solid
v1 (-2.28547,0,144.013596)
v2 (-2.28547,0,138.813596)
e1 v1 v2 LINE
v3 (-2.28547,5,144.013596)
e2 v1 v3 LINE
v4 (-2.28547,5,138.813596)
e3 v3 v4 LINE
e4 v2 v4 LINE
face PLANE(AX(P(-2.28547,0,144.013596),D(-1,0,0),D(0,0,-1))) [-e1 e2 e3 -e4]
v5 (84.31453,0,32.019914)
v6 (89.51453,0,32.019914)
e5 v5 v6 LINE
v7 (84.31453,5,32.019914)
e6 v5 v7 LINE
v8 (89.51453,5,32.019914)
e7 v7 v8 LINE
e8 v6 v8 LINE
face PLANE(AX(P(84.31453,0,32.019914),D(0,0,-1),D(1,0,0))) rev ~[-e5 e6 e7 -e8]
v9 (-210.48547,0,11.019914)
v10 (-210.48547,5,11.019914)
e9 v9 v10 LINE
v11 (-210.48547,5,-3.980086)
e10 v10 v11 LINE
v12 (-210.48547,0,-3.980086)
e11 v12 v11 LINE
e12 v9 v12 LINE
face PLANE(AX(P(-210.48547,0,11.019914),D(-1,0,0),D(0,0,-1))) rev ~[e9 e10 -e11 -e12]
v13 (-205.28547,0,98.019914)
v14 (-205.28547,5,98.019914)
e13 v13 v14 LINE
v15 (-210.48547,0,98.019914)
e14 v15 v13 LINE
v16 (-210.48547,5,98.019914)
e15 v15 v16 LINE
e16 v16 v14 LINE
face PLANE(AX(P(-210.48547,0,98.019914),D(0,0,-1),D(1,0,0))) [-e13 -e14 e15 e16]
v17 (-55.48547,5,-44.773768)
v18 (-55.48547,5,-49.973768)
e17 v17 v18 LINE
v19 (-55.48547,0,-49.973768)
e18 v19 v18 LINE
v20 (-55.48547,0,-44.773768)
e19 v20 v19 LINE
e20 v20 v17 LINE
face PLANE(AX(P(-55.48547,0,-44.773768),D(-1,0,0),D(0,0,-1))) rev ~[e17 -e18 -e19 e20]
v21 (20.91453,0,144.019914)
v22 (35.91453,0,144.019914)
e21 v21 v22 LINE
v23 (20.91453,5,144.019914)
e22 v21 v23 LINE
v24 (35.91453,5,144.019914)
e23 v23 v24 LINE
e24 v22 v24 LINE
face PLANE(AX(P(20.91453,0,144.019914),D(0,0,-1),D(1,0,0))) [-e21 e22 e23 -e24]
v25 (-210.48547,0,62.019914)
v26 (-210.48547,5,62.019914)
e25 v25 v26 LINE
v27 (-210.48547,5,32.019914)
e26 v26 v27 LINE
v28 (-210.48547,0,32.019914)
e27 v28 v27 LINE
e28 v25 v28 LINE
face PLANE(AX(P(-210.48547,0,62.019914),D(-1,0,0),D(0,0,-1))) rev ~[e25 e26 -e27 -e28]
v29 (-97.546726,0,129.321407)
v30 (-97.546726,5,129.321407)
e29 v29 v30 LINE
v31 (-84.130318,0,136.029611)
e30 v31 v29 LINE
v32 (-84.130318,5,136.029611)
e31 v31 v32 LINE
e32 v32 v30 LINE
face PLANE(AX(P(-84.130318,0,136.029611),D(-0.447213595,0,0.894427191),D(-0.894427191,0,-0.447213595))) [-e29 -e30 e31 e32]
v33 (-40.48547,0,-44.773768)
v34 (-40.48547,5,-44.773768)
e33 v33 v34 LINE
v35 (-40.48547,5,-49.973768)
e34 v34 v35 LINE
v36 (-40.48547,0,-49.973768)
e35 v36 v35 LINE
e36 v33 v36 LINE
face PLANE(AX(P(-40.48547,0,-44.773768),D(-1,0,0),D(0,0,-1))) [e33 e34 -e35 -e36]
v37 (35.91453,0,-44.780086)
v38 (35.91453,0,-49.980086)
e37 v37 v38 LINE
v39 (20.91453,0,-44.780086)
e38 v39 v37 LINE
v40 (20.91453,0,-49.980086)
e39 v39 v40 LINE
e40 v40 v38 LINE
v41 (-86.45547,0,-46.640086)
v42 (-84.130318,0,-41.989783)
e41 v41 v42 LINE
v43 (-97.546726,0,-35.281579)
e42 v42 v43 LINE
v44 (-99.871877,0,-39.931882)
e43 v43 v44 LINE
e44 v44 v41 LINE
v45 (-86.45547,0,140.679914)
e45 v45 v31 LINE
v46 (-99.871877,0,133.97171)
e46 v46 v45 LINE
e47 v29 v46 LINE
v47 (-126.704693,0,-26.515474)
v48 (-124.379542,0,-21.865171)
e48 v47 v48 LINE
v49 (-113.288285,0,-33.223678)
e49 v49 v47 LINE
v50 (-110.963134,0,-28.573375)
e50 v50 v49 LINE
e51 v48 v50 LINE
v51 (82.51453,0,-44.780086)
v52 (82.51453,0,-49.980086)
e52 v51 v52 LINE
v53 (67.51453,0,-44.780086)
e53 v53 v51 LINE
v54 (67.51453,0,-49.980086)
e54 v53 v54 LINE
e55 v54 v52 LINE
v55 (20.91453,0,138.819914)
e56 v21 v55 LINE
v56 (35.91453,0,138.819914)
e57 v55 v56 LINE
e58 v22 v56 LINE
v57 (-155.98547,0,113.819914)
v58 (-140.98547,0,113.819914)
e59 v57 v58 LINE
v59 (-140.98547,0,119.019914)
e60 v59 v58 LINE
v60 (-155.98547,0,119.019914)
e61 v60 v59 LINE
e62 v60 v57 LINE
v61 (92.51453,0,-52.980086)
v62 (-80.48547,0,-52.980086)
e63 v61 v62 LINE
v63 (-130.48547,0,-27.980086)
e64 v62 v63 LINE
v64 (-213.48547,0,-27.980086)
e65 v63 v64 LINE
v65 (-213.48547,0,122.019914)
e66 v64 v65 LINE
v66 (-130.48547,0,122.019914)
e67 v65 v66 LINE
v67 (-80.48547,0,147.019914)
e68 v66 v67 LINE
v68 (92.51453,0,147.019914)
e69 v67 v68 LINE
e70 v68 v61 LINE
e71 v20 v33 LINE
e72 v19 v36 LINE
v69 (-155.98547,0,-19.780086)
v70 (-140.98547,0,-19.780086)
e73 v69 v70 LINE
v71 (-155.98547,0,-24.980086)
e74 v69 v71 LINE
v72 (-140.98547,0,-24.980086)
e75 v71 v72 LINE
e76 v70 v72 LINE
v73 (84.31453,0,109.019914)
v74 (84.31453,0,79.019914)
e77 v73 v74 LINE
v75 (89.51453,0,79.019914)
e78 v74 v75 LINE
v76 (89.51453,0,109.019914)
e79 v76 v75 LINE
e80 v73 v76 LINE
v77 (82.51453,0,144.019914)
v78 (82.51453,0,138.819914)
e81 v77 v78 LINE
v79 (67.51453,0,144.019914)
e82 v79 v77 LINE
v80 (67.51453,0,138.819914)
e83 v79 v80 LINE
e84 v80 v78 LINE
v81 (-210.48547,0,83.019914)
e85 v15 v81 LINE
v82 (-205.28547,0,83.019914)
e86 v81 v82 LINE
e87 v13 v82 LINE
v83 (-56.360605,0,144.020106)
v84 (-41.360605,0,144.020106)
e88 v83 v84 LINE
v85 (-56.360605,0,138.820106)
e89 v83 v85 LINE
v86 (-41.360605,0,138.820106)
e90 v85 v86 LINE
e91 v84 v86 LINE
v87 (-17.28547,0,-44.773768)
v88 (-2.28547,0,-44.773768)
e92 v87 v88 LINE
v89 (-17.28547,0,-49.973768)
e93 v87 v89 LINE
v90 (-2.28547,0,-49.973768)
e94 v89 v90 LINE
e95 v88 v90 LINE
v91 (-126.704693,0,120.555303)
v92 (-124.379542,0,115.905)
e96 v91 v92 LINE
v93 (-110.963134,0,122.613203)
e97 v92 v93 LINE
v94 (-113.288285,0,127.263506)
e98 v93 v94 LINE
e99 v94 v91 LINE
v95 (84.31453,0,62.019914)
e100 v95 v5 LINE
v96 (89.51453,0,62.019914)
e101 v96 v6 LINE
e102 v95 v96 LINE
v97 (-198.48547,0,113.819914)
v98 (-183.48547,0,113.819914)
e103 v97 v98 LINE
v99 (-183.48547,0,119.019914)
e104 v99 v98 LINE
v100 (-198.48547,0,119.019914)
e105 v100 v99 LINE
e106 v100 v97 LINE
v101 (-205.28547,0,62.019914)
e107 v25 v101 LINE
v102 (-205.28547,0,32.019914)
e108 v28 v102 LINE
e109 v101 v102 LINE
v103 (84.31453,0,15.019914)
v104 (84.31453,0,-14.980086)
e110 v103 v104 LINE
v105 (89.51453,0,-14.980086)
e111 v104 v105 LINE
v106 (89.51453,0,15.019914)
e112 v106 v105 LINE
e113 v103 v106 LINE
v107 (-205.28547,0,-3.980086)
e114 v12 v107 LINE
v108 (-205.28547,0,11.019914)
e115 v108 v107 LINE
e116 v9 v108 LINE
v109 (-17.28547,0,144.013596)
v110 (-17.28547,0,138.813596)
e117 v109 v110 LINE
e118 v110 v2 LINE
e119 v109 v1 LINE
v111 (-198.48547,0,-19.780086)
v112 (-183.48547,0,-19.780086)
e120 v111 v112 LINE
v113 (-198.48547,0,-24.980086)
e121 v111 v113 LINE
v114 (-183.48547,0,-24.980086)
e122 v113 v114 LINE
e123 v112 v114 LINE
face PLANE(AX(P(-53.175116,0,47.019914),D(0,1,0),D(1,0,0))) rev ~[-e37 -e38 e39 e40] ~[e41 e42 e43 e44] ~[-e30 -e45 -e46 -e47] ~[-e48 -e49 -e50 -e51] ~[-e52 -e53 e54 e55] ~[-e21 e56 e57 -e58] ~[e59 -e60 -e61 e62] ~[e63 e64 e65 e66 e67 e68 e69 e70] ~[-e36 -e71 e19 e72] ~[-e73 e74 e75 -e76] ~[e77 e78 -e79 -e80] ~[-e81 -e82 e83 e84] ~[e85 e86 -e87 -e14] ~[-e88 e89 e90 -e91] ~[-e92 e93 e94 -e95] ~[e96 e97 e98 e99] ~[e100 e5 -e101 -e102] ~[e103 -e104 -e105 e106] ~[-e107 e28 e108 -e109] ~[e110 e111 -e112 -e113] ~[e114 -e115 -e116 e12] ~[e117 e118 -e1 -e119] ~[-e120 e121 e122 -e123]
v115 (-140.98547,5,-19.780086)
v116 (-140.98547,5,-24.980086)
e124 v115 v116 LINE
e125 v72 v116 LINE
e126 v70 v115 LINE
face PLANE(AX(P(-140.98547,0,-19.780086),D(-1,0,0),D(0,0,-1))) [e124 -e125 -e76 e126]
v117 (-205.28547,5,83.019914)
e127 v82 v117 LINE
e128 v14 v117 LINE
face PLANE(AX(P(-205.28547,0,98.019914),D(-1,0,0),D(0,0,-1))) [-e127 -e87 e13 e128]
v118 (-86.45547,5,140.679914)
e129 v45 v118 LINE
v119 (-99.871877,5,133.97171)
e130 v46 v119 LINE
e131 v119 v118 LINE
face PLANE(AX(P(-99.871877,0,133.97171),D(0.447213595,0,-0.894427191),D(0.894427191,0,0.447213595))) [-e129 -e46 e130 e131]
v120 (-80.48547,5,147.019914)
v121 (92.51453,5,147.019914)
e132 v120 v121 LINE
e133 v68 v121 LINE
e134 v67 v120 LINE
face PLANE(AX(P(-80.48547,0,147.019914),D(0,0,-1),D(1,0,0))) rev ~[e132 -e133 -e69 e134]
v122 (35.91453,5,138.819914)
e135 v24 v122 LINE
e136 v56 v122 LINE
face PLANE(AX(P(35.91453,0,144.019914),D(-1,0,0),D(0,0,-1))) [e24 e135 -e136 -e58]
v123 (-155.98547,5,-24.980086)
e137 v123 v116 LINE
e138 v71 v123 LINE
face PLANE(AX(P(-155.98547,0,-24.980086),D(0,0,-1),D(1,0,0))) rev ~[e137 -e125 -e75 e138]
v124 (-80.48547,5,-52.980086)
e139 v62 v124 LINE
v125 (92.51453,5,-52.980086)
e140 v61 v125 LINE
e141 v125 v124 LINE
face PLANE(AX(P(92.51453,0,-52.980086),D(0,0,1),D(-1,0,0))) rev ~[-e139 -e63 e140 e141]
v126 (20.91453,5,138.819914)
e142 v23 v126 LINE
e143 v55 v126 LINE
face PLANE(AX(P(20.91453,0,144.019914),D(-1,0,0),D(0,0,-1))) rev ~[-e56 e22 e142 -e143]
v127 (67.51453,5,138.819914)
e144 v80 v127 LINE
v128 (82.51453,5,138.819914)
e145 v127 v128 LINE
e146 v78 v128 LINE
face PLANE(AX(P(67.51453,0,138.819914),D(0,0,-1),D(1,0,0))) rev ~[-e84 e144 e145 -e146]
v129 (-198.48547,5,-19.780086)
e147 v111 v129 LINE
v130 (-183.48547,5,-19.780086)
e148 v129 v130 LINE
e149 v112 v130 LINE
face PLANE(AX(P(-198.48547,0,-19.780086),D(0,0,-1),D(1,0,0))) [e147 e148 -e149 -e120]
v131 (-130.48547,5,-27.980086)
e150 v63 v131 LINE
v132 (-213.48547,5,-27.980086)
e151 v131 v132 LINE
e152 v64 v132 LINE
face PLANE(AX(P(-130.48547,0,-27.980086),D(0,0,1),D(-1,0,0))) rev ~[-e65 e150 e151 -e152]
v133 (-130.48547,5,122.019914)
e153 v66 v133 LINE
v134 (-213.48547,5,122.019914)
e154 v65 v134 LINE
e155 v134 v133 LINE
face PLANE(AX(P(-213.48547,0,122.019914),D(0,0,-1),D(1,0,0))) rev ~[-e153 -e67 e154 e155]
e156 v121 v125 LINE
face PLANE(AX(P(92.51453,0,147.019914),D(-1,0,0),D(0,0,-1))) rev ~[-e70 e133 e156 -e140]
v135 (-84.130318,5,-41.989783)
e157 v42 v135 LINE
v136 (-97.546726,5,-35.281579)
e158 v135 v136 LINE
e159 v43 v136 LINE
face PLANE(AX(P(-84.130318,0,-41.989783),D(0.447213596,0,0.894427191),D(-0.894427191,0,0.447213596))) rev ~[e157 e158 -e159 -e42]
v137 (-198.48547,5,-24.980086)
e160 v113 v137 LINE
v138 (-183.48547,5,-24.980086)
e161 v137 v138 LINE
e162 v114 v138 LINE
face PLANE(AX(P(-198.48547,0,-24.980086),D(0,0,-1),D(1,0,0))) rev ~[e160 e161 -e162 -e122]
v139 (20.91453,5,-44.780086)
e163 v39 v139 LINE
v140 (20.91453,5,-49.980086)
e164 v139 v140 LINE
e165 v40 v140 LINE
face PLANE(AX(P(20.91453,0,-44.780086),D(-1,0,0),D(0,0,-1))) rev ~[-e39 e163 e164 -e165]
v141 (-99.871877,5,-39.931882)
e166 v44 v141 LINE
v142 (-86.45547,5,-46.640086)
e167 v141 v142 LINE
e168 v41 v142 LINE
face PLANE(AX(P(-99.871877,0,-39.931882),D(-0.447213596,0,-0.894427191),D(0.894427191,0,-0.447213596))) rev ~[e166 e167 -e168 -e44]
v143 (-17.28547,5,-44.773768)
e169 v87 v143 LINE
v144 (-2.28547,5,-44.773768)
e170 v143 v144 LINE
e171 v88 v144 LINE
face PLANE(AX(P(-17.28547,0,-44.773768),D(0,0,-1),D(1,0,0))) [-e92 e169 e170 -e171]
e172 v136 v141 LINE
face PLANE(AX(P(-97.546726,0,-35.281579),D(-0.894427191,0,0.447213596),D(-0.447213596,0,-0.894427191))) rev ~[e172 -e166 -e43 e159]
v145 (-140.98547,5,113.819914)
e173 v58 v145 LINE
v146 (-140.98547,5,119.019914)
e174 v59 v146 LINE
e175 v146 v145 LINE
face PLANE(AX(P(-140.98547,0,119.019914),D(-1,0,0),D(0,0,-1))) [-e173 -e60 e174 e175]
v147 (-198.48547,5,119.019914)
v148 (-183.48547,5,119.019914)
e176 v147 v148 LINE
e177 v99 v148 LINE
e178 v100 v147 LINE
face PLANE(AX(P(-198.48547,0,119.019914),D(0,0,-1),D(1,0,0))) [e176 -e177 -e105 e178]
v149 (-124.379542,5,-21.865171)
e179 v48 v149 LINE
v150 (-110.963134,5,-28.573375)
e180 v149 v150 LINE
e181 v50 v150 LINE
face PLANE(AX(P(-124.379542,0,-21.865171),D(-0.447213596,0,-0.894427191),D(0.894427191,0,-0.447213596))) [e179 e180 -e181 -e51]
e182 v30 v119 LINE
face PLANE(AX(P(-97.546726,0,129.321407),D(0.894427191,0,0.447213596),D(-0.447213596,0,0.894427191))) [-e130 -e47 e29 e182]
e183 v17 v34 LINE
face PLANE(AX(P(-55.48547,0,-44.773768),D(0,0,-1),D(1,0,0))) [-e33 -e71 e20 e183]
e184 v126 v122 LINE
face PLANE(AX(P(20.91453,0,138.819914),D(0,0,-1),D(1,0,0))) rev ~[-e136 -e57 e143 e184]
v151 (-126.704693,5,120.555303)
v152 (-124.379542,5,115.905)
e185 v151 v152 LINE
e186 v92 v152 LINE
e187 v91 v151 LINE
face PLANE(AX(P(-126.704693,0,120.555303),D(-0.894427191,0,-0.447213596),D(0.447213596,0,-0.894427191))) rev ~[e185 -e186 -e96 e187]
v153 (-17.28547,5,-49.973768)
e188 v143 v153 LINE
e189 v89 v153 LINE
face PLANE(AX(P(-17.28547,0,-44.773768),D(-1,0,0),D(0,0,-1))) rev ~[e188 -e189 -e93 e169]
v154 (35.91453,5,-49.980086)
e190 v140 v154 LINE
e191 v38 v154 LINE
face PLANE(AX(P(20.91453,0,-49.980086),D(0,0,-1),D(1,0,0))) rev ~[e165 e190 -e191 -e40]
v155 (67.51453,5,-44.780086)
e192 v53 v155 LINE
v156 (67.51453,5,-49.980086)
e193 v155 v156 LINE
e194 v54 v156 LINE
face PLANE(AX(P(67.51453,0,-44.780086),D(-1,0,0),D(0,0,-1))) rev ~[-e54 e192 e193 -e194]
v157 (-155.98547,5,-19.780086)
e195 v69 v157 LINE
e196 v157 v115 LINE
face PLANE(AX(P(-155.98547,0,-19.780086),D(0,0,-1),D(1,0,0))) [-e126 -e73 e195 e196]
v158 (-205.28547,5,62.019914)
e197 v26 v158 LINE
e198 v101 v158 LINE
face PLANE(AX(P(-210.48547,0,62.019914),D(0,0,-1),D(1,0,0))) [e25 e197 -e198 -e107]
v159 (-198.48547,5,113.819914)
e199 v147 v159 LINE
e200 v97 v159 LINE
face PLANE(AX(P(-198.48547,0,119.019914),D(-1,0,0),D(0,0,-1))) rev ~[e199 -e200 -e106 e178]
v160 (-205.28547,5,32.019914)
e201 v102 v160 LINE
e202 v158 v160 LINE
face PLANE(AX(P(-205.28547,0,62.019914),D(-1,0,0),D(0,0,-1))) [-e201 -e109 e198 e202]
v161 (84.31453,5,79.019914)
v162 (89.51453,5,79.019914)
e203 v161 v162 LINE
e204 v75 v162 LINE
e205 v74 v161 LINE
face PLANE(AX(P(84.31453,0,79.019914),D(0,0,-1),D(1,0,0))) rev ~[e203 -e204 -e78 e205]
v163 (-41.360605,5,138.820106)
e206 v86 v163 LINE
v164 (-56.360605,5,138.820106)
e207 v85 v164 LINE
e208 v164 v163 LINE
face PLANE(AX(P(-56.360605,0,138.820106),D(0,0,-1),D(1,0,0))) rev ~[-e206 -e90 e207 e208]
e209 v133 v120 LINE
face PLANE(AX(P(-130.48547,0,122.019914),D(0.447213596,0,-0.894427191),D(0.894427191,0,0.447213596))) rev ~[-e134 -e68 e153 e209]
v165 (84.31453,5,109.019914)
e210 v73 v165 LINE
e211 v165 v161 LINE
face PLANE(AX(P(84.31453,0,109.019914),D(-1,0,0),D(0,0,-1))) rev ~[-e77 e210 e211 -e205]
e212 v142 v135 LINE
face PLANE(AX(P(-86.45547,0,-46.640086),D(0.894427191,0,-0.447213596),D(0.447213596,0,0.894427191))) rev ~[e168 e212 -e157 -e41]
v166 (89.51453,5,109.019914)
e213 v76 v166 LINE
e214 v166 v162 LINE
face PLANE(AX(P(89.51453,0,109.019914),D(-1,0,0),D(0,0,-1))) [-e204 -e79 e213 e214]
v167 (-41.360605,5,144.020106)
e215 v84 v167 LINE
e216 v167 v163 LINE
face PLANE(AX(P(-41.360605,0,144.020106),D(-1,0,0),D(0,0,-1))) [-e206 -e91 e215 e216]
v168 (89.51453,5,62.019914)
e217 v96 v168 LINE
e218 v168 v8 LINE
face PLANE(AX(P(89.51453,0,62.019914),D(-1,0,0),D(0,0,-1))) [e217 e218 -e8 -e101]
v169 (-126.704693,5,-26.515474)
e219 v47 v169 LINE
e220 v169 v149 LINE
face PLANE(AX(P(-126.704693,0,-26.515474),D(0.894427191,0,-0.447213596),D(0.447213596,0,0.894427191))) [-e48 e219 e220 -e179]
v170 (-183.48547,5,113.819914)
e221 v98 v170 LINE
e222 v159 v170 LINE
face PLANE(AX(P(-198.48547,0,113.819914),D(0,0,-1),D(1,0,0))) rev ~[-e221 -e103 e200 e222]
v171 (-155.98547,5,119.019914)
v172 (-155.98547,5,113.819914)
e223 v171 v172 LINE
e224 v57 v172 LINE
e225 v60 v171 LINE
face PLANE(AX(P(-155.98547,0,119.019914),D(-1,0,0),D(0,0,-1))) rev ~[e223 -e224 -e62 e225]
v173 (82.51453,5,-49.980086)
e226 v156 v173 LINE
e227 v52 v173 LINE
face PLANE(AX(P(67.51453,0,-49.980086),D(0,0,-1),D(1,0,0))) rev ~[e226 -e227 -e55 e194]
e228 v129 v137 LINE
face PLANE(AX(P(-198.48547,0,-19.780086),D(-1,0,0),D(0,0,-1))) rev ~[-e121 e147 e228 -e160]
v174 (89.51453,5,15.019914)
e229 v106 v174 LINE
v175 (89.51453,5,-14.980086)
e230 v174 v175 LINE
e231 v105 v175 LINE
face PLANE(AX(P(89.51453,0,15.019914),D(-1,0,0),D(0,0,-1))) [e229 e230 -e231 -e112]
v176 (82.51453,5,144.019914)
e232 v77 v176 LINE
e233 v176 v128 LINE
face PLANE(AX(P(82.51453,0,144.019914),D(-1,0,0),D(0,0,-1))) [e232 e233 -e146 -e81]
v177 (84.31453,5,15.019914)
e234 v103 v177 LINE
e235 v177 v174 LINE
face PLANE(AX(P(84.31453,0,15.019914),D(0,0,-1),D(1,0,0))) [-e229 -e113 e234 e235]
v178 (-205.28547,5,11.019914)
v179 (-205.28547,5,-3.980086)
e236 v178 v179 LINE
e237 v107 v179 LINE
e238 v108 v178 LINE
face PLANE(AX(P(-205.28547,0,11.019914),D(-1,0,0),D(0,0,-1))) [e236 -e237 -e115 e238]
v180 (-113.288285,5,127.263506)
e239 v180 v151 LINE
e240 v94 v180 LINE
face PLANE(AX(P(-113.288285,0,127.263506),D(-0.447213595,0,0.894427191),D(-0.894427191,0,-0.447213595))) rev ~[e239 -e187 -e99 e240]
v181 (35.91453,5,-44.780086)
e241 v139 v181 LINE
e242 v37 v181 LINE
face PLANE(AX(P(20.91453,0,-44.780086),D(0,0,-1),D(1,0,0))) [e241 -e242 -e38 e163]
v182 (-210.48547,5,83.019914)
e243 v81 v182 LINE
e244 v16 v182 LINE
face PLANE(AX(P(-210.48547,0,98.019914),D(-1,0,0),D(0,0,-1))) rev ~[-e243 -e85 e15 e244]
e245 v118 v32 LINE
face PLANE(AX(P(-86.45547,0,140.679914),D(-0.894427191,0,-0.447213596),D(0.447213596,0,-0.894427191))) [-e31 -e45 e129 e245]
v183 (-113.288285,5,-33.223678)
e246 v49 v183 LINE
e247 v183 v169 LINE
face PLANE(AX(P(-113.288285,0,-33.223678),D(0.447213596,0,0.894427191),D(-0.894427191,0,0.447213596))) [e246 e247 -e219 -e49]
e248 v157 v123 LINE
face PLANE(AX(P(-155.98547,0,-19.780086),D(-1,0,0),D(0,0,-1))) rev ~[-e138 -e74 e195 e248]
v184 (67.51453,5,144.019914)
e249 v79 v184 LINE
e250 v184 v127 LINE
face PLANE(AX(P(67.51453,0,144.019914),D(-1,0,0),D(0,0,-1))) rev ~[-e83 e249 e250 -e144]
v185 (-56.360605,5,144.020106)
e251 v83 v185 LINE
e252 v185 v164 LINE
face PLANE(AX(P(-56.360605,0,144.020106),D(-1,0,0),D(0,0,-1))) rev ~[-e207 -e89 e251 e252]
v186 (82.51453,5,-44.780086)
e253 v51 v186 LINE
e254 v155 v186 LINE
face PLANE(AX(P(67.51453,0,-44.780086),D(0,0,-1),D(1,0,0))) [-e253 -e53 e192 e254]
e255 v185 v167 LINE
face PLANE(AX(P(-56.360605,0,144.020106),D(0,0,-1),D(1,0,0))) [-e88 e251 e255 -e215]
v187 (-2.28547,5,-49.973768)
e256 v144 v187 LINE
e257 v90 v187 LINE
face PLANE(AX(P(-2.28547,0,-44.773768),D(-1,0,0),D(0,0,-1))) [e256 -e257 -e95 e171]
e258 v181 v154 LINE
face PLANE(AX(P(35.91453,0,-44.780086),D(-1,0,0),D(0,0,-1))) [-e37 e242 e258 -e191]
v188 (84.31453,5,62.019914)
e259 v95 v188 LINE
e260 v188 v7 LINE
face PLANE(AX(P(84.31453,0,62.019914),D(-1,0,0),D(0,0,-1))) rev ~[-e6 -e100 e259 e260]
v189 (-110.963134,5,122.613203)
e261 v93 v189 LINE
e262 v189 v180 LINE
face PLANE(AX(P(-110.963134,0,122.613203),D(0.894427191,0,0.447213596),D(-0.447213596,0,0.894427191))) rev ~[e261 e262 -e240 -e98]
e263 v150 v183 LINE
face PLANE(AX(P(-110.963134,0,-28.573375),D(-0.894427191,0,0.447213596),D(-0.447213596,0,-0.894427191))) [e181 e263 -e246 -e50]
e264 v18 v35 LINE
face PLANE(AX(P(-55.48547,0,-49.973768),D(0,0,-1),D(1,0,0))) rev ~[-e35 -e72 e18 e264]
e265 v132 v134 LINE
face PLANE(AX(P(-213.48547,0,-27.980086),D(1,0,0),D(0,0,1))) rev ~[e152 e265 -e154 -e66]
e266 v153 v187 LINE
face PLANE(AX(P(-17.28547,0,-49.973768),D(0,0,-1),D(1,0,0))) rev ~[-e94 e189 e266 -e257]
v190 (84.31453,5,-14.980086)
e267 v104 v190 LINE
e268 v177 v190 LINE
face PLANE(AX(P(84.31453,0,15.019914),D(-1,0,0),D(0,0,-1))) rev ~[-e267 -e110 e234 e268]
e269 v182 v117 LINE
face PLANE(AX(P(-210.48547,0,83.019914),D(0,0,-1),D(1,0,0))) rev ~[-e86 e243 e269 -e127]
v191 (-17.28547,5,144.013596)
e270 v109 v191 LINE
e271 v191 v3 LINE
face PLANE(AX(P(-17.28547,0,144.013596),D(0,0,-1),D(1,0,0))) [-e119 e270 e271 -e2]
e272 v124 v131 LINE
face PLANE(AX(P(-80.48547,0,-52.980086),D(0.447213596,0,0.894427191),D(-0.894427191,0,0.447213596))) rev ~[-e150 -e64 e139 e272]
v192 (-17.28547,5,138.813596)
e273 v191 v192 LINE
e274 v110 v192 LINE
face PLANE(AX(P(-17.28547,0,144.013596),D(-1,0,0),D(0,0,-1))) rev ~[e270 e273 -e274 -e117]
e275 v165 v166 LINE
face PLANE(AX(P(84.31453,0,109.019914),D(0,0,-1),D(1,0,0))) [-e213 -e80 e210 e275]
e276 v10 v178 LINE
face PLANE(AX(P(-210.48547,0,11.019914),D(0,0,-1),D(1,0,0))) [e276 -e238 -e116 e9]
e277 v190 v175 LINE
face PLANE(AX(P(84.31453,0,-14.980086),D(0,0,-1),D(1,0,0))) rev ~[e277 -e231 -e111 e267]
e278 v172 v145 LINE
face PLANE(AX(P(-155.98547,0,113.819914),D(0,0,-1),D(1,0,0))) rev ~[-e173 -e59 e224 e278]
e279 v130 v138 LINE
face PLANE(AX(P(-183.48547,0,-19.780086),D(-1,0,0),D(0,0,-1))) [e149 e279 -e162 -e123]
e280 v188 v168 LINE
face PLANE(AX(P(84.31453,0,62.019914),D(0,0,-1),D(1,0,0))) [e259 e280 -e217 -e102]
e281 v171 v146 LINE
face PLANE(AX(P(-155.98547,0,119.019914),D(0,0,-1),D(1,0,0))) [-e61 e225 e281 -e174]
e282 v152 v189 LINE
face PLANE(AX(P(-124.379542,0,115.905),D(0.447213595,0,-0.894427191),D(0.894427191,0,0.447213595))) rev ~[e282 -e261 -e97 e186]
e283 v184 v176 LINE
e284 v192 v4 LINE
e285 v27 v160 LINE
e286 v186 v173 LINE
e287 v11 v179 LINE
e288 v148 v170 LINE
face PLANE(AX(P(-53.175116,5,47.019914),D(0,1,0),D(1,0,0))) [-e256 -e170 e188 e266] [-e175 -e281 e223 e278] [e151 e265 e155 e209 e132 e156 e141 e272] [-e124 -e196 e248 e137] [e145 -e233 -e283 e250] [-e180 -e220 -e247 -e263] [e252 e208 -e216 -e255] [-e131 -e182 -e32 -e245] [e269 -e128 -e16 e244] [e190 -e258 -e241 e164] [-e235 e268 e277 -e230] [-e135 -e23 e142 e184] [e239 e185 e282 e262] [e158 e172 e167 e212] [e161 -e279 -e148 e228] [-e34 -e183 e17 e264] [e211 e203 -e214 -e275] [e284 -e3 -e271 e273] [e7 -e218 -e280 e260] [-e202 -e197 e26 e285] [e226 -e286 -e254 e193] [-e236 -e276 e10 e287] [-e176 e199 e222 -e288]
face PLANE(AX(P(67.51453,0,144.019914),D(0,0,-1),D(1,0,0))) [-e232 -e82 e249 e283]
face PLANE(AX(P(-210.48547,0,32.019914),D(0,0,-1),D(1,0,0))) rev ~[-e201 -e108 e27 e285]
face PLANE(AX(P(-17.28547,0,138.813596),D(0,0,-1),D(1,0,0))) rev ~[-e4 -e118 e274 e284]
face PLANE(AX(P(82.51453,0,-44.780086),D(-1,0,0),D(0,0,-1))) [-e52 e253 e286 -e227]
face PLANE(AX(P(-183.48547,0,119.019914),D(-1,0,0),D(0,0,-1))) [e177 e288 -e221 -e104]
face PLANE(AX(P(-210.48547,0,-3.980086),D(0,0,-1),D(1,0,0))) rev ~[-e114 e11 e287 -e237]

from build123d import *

# Parameters (mm, degrees)
SKETCH1_W           = 15
SKETCH1_H           = 5.2
SKETCH1_W_2         = 5.2
SKETCH1_H_2         = 30
SKETCH1_H_3         = 15
BOSS_EXTRUDE1_DEPTH = 5


with BuildPart() as part:
    # Sketch1 → Boss-Extrude1 (new body)
    with BuildSketch(Plane(origin=(0, 0, 0), x_dir=(1, 0, 0), z_dir=(0, 1, 0))):
        Polygon((92.514530464, -147.019914311), (92.514530464, 52.980085689), (-80.485469536, 52.980085689), (-130.485469536, 27.980085689), (-213.485469536, 27.980085689), (-213.485469536, -122.019914311), (-130.485469536, -122.019914311), (-80.485469536, -147.019914311), align=None)
        with Locations((75.014530464, 47.380085689)):
            Rectangle(SKETCH1_W, SKETCH1_H, mode=Mode.SUBTRACT)
        with Locations((75.014530464, -141.419914311)):
            Rectangle(SKETCH1_W, SKETCH1_H, mode=Mode.SUBTRACT)
        with Locations((86.914530464, -0.019914311)):
            Rectangle(SKETCH1_W_2, SKETCH1_H_2, mode=Mode.SUBTRACT)
        with Locations((86.914530464, -47.019914311)):
            Rectangle(SKETCH1_W_2, SKETCH1_H_2, mode=Mode.SUBTRACT)
        with Locations((86.914530464, -94.019914311)):
            Rectangle(SKETCH1_W_2, SKETCH1_H_2, mode=Mode.SUBTRACT)
        with Locations((-9.785469536, 47.373767599)):
            Rectangle(SKETCH1_W, SKETCH1_H, mode=Mode.SUBTRACT)
        with Locations((-47.985469536, 47.373767599)):
            Rectangle(SKETCH1_W, SKETCH1_H, mode=Mode.SUBTRACT)
        with Locations((-148.485469536, 22.380085689)):
            Rectangle(SKETCH1_W, SKETCH1_H, mode=Mode.SUBTRACT)
        with Locations((-190.985469536, 22.380085689)):
            Rectangle(SKETCH1_W, SKETCH1_H, mode=Mode.SUBTRACT)
        with Locations((-207.885469536, -3.519914311)):
            Rectangle(SKETCH1_W_2, SKETCH1_H_3, mode=Mode.SUBTRACT)
        with Locations((-207.885469536, -47.019914311)):
            Rectangle(SKETCH1_W_2, SKETCH1_H_2, mode=Mode.SUBTRACT)
        with Locations((-207.885469536, -90.519914311)):
            Rectangle(SKETCH1_W_2, SKETCH1_H_3, mode=Mode.SUBTRACT)
        with Locations((-48.86060515, -141.420106162)):
            Rectangle(SKETCH1_W, SKETCH1_H, mode=Mode.SUBTRACT)
        with Locations((-148.485469536, -116.419914311)):
            Rectangle(SKETCH1_W, SKETCH1_H, mode=Mode.SUBTRACT)
        with Locations((-190.985469536, -116.419914311)):
            Rectangle(SKETCH1_W, SKETCH1_H, mode=Mode.SUBTRACT)
        with Locations((28.414530464, 47.380085689)):
            Rectangle(SKETCH1_W, SKETCH1_H, mode=Mode.SUBTRACT)
        with Locations((28.414530464, -141.419914311)):
            Rectangle(SKETCH1_W, SKETCH1_H, mode=Mode.SUBTRACT)
        with Locations((-9.785469536, -141.413596222)):
            Rectangle(SKETCH1_W, SKETCH1_H, mode=Mode.SUBTRACT)
        Polygon((-110.963133782, 28.573374858), (-113.288285266, 33.223677824), (-126.704693131, 26.515473891), (-124.379541647, 21.865170925), align=None, mode=Mode.SUBTRACT)
        Polygon((-86.455469536, 46.640085689), (-84.130318052, 41.989782723), (-97.546725917, 35.28157879), (-99.871877401, 39.931881756), align=None, mode=Mode.SUBTRACT)
        Polygon((-99.871877401, -133.971710379), (-86.455469536, -140.679914311), (-84.130318052, -136.029611345), (-97.546725917, -129.321407413), align=None, mode=Mode.SUBTRACT)
        Polygon((-124.379541647, -115.904999548), (-110.963133782, -122.61320348), (-113.288285266, -127.263506446), (-126.704693131, -120.555302514), align=None, mode=Mode.SUBTRACT)
    extrude(amount=BOSS_EXTRUDE1_DEPTH)


solid = part.part
